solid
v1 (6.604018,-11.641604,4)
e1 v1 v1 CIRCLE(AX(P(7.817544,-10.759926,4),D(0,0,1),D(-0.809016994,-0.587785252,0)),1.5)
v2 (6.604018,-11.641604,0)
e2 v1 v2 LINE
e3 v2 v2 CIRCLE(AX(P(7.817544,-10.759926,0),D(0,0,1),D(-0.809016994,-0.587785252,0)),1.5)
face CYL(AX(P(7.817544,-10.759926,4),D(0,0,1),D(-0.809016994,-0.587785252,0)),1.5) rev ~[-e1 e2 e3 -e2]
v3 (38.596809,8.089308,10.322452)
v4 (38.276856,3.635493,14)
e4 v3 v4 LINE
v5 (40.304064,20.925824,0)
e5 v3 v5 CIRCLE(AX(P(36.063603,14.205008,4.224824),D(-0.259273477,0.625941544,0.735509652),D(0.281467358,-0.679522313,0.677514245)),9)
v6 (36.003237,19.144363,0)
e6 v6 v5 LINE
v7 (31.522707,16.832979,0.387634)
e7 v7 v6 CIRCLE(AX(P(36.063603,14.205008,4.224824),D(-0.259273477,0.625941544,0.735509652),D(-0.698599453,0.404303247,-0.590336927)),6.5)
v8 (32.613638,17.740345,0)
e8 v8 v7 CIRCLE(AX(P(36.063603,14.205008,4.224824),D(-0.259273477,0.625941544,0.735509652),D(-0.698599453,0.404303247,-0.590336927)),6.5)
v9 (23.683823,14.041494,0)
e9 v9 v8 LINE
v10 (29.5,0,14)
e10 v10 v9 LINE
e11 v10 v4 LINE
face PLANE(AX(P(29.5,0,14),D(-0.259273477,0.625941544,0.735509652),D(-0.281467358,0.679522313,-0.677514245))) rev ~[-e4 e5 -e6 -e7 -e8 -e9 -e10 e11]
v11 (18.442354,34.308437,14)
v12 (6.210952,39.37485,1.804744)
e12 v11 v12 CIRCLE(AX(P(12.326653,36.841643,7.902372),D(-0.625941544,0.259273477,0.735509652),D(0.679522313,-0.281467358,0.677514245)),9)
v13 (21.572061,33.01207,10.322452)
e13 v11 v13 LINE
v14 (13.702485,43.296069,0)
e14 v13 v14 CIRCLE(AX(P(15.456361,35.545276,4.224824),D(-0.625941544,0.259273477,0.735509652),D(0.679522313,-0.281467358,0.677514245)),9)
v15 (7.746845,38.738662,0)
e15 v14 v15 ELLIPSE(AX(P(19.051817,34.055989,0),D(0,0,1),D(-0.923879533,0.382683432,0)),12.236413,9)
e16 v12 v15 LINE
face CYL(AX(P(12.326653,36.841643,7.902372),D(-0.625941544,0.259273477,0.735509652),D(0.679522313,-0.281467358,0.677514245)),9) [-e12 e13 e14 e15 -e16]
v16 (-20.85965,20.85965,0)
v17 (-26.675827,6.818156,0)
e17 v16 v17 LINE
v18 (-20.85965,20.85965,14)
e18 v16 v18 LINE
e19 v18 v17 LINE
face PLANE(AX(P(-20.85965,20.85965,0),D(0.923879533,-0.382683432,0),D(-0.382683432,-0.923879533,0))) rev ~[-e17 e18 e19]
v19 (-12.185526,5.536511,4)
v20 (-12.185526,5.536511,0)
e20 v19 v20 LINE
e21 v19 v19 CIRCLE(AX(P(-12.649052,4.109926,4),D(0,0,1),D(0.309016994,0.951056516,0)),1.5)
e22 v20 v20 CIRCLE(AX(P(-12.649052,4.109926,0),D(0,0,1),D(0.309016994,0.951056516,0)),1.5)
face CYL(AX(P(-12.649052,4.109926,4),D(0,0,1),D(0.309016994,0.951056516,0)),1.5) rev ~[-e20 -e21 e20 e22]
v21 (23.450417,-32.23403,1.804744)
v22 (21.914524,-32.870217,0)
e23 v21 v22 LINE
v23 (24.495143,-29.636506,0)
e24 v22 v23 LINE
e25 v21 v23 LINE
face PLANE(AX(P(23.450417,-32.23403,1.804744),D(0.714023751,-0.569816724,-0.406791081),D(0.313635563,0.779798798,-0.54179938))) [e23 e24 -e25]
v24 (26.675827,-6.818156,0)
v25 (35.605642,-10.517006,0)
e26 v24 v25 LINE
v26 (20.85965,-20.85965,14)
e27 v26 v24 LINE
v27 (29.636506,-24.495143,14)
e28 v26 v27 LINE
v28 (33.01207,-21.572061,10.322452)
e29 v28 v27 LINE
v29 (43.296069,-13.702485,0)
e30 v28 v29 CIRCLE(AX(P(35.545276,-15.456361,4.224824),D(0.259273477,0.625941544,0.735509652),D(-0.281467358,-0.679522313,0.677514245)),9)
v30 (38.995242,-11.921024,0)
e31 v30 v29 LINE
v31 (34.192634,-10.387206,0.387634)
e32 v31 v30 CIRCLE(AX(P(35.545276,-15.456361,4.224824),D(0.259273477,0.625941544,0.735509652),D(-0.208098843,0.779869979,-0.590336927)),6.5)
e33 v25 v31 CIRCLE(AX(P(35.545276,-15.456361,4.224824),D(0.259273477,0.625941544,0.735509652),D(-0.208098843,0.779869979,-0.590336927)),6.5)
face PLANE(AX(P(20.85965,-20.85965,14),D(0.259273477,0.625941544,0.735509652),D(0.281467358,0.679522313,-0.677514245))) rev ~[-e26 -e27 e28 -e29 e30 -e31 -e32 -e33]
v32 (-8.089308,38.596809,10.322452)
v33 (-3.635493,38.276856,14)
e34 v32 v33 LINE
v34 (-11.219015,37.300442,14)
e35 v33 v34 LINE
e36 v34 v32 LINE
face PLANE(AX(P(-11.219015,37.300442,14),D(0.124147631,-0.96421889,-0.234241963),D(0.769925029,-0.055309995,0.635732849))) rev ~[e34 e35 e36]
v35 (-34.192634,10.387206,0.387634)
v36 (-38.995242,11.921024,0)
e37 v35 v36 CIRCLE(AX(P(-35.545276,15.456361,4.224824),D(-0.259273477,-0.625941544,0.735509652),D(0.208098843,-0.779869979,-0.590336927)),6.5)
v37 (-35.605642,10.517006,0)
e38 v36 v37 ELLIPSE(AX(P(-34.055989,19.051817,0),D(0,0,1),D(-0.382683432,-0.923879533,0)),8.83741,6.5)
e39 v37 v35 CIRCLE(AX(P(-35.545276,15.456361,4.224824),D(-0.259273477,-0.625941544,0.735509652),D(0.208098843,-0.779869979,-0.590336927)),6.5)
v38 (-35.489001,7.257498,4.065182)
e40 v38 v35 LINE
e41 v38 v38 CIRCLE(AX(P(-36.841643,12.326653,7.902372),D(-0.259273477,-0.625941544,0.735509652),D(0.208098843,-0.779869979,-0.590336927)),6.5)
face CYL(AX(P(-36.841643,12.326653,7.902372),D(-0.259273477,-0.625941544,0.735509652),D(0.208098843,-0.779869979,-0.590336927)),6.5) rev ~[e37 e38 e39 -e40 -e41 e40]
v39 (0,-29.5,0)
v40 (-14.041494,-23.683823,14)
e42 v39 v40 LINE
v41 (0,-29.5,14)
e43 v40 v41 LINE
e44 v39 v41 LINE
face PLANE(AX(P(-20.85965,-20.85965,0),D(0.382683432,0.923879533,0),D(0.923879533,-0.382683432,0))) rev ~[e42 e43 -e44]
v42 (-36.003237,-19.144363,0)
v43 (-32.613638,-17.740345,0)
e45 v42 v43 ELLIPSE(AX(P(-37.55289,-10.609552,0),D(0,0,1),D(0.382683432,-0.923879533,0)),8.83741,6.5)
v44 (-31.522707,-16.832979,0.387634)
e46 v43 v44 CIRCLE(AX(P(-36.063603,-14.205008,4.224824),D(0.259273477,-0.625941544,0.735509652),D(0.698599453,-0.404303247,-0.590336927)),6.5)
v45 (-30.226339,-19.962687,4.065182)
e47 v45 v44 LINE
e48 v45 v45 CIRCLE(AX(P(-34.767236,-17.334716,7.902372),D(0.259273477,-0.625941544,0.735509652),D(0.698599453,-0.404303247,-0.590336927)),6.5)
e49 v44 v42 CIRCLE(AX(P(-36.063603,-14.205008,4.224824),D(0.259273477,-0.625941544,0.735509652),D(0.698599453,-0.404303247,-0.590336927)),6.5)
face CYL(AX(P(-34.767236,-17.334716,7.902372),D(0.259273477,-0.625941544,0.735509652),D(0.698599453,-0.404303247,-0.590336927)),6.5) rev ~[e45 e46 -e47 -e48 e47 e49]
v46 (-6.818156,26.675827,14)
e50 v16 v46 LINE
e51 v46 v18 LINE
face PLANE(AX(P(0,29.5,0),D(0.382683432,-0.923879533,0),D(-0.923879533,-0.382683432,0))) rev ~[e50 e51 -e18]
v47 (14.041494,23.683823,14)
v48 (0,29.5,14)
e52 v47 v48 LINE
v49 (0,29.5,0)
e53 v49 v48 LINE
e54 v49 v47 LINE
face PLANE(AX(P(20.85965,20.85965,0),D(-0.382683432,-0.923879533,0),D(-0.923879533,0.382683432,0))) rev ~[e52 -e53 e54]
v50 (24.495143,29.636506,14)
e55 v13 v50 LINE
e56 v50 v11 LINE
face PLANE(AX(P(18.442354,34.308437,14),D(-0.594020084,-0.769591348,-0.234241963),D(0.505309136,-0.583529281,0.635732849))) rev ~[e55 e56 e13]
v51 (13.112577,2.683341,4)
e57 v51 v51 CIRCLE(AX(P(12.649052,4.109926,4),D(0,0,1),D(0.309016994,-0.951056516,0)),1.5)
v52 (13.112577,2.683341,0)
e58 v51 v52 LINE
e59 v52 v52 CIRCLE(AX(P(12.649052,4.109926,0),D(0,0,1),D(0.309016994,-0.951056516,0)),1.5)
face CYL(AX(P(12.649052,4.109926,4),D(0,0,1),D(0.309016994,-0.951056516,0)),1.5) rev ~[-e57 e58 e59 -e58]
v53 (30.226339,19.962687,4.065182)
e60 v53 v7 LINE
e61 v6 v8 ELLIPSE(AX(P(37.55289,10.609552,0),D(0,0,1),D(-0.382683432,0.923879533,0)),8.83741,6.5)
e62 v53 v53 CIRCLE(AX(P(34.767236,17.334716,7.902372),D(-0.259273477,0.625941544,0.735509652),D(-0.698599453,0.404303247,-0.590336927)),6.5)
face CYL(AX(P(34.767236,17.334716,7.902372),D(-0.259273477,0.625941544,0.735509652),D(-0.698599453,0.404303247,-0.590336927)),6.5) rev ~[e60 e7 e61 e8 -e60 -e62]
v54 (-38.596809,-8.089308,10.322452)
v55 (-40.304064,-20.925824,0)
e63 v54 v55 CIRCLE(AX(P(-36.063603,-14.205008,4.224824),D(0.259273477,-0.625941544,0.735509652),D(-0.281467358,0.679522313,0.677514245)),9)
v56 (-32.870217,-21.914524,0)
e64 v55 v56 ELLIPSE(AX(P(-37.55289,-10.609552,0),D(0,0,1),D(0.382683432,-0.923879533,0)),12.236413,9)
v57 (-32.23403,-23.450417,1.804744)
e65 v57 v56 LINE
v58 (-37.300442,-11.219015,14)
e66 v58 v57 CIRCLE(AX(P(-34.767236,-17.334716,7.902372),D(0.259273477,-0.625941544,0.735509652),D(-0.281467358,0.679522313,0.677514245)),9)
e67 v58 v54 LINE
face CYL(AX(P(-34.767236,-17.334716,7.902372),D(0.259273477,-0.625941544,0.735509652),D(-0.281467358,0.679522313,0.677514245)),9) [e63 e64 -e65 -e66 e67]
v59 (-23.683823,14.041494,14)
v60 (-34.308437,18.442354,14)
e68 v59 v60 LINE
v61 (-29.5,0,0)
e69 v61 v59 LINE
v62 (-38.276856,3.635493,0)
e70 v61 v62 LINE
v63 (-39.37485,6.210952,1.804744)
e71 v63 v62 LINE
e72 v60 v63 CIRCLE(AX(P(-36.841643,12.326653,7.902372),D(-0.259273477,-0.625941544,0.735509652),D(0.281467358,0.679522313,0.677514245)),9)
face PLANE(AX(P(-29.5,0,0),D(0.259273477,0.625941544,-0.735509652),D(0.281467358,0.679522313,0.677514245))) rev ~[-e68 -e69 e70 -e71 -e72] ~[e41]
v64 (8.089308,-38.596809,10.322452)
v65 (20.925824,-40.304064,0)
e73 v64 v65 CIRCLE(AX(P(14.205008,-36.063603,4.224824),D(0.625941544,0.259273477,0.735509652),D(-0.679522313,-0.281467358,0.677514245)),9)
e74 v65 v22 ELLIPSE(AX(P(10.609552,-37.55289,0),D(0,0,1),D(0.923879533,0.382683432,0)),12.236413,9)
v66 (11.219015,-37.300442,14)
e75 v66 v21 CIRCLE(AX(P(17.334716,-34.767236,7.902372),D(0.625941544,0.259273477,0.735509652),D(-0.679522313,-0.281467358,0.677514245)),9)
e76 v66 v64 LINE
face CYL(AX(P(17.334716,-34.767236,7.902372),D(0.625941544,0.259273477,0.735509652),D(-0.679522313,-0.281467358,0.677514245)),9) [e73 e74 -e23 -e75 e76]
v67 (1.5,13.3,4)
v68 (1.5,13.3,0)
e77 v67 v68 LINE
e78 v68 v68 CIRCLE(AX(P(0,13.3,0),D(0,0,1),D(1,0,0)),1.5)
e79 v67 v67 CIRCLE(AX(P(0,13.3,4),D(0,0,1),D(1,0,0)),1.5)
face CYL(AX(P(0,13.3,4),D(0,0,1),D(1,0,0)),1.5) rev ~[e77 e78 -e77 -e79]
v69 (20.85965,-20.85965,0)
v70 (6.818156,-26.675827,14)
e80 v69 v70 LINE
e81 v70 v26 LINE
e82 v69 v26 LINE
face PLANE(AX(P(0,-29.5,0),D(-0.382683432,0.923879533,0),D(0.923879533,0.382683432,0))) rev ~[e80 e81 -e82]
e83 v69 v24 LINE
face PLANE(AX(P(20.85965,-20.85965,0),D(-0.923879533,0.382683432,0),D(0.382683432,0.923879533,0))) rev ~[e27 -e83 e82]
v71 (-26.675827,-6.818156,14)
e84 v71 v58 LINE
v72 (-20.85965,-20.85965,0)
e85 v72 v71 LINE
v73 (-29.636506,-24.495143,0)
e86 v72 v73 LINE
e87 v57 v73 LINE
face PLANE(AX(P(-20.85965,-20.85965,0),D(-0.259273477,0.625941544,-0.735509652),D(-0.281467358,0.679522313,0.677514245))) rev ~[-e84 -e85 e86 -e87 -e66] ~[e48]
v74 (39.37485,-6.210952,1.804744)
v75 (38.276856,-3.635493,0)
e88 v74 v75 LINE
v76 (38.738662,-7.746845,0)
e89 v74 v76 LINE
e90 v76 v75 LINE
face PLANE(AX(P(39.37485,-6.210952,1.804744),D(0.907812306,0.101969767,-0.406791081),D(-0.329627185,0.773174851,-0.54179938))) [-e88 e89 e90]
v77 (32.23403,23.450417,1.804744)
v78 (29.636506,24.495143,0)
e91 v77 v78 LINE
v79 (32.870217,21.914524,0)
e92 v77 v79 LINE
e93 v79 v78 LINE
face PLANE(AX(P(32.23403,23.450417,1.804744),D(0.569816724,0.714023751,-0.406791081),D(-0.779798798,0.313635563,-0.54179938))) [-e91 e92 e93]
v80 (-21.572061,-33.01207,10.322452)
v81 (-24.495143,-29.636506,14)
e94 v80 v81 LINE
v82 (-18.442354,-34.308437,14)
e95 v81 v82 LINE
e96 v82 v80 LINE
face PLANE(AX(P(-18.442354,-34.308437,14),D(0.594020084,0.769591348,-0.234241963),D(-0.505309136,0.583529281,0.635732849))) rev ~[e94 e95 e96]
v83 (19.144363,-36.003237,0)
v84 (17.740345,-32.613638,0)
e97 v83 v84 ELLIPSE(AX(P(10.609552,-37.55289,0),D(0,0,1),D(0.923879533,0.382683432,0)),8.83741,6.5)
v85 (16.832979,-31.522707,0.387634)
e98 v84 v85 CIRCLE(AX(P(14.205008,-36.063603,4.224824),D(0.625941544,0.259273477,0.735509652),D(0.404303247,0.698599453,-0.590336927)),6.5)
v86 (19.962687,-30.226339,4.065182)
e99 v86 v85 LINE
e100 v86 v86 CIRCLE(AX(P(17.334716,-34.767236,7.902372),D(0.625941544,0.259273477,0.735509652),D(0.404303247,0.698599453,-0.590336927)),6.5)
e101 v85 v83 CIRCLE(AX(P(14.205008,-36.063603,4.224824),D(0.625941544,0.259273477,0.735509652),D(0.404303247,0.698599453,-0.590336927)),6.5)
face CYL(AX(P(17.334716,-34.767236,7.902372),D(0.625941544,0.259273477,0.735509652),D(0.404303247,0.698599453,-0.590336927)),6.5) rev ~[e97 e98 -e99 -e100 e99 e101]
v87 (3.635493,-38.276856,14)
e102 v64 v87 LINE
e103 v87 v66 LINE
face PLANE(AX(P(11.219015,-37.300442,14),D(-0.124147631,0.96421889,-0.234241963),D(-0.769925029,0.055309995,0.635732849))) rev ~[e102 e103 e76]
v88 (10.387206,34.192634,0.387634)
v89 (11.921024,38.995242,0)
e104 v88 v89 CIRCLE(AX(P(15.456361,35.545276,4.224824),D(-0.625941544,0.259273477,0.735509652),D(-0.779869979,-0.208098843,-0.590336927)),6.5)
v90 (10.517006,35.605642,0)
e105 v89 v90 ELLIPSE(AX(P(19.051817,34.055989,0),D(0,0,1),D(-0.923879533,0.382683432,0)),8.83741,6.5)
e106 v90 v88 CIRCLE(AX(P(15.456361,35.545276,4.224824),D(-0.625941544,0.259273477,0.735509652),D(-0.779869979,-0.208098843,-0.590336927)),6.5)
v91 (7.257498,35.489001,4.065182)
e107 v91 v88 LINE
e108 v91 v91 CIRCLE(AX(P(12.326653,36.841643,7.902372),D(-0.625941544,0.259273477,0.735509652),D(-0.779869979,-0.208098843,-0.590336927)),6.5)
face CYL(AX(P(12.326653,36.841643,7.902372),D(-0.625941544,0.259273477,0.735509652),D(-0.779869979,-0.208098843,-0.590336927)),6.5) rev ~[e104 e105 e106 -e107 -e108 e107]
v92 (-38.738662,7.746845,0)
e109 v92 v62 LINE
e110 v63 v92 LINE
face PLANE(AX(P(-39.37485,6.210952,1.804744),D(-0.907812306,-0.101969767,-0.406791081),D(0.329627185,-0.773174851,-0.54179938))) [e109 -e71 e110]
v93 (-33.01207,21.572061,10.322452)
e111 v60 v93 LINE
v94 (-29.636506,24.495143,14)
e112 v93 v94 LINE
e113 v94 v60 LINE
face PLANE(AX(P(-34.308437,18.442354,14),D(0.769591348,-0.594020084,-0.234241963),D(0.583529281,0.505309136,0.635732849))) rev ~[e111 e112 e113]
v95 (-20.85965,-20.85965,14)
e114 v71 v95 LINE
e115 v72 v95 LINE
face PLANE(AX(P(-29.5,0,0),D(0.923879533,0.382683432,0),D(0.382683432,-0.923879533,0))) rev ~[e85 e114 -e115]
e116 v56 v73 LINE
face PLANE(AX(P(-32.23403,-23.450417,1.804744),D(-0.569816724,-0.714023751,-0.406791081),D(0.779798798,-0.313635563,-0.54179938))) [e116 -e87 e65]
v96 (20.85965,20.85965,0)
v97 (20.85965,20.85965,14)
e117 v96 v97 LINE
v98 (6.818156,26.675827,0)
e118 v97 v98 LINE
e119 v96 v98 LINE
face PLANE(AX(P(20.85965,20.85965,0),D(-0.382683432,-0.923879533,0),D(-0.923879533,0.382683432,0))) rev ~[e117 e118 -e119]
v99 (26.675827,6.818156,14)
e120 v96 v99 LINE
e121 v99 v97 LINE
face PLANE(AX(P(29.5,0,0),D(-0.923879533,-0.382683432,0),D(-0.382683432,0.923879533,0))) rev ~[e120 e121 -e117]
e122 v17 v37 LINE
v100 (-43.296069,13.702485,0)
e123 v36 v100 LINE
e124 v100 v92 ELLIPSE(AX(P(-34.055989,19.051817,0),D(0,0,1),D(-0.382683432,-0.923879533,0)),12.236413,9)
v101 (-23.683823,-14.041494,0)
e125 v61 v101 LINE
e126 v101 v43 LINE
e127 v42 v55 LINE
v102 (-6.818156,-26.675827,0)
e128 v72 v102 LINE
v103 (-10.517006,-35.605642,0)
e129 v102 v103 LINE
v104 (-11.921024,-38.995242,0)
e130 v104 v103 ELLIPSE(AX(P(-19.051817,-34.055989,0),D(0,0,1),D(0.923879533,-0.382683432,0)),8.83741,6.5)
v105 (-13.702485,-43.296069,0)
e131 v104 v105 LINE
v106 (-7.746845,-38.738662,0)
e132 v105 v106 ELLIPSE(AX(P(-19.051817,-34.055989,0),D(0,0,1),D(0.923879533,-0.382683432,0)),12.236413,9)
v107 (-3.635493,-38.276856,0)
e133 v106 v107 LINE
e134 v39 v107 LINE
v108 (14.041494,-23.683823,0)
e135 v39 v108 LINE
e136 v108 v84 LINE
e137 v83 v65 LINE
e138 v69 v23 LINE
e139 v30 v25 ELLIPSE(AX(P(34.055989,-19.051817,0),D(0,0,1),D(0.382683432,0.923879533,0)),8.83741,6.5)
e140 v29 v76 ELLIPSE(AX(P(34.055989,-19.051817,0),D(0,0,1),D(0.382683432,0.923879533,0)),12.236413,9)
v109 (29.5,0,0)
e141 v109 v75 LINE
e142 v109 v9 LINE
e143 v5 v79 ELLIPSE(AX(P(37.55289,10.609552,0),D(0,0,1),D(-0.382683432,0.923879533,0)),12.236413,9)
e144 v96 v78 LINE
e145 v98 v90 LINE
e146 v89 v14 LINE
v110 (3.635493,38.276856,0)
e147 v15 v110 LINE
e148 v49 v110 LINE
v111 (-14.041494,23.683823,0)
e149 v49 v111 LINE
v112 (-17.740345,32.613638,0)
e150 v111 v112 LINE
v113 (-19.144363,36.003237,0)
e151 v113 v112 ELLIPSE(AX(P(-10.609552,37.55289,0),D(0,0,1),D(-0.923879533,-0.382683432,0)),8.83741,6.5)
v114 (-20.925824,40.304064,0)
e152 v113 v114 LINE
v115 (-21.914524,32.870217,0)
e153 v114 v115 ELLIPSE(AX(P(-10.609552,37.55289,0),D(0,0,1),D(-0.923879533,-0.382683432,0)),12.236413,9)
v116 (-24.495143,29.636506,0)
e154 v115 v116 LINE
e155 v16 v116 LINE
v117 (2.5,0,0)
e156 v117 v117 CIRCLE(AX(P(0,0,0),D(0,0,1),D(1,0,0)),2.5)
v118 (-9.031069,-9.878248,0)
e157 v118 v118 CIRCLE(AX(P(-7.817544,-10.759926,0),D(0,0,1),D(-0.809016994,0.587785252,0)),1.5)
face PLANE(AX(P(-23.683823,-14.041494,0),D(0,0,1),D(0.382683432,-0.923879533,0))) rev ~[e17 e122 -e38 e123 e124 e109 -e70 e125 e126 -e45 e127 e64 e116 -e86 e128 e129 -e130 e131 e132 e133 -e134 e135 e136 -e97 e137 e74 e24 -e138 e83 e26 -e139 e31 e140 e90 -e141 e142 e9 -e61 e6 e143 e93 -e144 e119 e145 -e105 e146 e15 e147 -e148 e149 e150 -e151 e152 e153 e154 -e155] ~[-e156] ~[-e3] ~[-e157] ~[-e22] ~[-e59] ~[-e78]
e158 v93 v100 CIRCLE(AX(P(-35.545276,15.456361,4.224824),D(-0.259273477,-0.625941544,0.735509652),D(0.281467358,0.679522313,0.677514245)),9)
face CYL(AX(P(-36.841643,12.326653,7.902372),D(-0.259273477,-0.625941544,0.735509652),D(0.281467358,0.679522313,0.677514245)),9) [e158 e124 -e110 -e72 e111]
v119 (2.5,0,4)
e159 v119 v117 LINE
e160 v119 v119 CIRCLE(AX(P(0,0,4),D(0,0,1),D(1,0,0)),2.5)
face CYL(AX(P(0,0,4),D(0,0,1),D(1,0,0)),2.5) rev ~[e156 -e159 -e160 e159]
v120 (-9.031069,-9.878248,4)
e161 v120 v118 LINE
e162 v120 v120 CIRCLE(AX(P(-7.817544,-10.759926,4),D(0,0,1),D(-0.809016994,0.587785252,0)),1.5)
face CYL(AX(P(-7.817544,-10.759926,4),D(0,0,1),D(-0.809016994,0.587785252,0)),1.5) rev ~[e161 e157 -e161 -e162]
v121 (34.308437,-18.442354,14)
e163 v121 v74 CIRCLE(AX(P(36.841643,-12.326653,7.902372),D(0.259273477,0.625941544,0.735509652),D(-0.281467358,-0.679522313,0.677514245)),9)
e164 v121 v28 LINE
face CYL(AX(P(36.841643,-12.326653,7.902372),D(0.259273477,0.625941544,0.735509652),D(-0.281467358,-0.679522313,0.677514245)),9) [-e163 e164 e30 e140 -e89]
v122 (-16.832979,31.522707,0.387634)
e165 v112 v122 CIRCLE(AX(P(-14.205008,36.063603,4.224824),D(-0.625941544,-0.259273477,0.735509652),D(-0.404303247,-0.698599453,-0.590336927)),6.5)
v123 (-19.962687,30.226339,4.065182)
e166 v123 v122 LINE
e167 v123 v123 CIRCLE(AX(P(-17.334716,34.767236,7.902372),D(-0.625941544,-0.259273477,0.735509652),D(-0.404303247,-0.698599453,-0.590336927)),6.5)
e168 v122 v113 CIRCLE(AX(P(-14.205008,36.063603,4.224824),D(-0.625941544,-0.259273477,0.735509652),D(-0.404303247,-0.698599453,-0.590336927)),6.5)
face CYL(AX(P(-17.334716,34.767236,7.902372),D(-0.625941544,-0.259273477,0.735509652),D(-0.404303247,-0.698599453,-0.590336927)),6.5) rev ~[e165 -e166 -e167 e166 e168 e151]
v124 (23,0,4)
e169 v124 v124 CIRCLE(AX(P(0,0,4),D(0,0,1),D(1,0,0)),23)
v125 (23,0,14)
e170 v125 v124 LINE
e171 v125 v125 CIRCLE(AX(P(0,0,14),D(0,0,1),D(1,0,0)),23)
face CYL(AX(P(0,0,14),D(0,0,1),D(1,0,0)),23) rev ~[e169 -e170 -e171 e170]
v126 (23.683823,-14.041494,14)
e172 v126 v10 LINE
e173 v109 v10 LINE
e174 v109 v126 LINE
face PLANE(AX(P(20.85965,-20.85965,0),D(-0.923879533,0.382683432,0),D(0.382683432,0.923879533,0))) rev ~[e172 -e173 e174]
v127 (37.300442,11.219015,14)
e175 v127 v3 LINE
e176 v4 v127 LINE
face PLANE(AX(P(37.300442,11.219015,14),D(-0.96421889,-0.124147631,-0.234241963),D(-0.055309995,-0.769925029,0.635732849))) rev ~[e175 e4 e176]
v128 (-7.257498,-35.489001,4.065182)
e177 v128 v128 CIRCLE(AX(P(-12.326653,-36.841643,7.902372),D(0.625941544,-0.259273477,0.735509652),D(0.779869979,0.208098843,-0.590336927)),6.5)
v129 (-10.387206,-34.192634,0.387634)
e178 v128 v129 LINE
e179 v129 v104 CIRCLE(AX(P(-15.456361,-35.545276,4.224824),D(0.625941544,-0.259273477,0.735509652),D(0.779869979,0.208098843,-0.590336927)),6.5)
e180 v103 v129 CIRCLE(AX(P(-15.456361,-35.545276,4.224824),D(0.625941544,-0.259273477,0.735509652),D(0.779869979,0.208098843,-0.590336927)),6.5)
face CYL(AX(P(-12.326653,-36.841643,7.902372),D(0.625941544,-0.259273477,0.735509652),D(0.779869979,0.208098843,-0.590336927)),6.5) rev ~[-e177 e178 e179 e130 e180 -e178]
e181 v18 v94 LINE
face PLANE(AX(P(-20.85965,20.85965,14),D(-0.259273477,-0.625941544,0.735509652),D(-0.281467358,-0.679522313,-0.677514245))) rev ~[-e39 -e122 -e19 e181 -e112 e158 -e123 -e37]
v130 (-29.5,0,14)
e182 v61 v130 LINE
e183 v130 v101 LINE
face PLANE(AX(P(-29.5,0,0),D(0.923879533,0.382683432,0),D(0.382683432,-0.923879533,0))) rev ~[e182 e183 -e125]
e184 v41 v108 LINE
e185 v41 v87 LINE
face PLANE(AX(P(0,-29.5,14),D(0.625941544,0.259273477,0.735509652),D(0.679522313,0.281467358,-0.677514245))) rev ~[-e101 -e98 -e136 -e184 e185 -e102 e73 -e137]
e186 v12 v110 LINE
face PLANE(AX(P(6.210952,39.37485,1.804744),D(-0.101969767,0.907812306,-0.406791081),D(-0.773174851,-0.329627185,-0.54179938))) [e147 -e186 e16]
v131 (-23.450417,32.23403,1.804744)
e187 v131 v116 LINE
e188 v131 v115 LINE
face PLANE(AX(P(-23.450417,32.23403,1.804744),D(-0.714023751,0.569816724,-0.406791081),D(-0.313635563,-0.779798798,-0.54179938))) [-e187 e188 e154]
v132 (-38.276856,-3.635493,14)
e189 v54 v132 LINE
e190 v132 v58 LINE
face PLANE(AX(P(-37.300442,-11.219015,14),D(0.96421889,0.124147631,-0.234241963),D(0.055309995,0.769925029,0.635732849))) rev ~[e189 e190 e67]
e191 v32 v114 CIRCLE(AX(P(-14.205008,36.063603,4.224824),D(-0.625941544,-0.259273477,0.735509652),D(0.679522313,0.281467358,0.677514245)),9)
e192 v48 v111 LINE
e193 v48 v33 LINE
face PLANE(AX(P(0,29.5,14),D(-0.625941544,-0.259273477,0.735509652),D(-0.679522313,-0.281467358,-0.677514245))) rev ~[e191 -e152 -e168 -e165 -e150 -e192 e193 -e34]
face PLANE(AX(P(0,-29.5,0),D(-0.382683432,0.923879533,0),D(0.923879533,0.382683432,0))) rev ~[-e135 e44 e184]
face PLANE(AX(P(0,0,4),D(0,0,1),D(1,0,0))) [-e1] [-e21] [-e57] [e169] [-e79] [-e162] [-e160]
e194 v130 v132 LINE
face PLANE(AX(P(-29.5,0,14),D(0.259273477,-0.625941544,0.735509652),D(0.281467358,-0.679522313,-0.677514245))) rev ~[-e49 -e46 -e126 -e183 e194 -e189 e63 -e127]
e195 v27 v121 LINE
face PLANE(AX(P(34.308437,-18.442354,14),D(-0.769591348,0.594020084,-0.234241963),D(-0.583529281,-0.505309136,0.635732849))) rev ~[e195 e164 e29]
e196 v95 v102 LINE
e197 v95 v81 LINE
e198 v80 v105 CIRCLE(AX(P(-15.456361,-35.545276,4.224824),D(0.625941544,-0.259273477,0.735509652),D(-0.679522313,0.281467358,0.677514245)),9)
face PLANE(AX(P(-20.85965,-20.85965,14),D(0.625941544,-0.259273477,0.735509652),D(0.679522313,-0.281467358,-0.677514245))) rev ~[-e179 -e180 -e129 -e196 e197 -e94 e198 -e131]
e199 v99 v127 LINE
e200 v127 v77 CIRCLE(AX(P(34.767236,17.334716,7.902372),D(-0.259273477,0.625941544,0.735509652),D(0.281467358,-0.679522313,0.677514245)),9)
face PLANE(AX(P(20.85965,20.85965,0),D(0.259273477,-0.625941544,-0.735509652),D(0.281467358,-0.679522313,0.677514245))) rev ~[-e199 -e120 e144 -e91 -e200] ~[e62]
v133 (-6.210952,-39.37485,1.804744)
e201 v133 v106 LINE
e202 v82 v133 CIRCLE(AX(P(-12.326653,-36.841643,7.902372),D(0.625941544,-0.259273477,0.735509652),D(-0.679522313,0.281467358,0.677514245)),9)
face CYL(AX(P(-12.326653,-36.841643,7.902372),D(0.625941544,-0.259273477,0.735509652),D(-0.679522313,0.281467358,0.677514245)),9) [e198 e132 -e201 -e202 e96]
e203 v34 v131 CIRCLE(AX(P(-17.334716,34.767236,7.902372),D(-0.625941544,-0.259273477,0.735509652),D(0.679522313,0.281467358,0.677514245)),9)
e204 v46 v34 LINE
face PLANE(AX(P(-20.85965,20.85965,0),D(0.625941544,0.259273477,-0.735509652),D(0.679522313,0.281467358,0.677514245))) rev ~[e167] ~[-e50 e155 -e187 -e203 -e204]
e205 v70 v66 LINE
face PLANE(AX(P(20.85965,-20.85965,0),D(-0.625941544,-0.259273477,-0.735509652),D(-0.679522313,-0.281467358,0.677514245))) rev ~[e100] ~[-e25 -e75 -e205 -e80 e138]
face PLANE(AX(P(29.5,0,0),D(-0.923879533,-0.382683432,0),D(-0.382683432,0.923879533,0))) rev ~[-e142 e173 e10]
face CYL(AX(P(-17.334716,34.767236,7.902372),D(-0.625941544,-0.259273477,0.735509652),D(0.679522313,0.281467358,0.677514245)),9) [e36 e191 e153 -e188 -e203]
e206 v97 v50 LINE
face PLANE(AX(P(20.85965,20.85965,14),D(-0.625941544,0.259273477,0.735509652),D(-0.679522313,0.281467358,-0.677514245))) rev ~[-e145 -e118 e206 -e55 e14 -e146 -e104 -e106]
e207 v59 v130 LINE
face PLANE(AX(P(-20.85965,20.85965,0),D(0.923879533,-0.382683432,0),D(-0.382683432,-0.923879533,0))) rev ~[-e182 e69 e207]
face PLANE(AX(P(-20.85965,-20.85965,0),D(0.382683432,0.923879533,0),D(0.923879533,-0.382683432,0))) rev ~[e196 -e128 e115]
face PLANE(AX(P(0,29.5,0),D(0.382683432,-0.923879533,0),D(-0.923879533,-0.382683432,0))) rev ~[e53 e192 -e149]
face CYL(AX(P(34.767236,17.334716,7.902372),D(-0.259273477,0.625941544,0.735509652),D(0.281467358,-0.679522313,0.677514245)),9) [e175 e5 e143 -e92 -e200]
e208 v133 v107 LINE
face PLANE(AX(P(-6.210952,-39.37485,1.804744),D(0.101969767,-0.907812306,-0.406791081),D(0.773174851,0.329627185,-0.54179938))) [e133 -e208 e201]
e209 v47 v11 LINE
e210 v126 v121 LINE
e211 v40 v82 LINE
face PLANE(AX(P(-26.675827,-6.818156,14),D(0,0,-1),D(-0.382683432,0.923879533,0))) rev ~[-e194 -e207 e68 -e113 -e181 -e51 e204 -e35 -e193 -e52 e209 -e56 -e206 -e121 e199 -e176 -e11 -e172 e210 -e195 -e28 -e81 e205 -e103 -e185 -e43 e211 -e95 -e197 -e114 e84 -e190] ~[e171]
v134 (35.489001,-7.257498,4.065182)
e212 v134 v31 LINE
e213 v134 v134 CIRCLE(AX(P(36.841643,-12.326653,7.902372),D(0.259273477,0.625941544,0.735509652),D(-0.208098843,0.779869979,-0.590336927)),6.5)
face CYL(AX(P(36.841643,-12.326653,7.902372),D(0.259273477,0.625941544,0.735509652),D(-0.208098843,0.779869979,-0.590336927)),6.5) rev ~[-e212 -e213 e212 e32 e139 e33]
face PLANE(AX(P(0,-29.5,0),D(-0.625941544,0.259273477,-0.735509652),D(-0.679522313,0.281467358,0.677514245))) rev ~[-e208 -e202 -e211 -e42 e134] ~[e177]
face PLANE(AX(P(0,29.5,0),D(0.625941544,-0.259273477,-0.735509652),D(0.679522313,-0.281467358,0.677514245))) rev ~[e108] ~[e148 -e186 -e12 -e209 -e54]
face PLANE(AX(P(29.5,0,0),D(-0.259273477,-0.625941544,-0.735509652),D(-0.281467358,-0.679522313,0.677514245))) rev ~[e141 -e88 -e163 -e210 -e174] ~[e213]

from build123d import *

# Parameters (mm, degrees)
PAD_DEPTH             = 14
SKETCH001_R           = 23
POCKET_DEPTH          = 10
SKETCH002_R           = 2.5
SKETCH002_R_2         = 1.5
POCKET001_DEPTH       = 173.2109287867
POLARPATTERN_COUNT    = 5
PAD001_DEPTH          = 21
POLARPATTERN001_COUNT = 8
SKETCH004_R           = 6.5
POCKET002_DEPTH       = 5
POLARPATTERN002_COUNT = 8


with BuildPart() as part:
    # Sketch → Pad (new body)
    with BuildSketch(Plane.XY):
        Polygon((29.5, 0), (20.859650045, 20.859650045), (0, 29.5), (-20.859650045, 20.859650045), (-29.5, 0), (-20.859650045, -20.859650045), (0, -29.5), (20.859650045, -20.859650045), align=None)
    extrude(amount=PAD_DEPTH)

    # Sketch001 (on Face10 of Pad) → Pocket (cut)
    with BuildSketch(Plane.XY.offset(14)):
        Circle(SKETCH001_R)
    extrude(amount=-POCKET_DEPTH, mode=Mode.SUBTRACT)

    # Sketch002 (on Face12 of Pocket) → Pocket001 (cut, through all)
    with BuildSketch(Plane.XY.offset(4)):
        Circle(SKETCH002_R)
        with Locations((0, 13.3)):
            Circle(SKETCH002_R_2)
    pocket001 = extrude(amount=-POCKET001_DEPTH, mode=Mode.SUBTRACT)

    # PolarPattern: Pocket001 ×5 about axis
    polarpattern_axis = Axis((0, 0, 4), (0, 0, 1))
    for i in range(1, POLARPATTERN_COUNT):
        add(pocket001.rotate(polarpattern_axis, i * 360 / POLARPATTERN_COUNT), mode=Mode.SUBTRACT)

    # Sketch003 (on Face8 of PolarPattern) → Pad001 (join)
    with BuildSketch(Plane(origin=(-10.4298250225, -25.1798250225, 0), x_dir=(0.9238795325, -0.3826834324, 0), z_dir=(-0.3826834324, -0.9238795325, 0))):
        Polygon((-11.2891612548, 14), (3.9092426218, 0), (11.2891612548, 0), (-3.9092426218, 14), align=None)
    pad001 = extrude(amount=PAD001_DEPTH)

    # PolarPattern001: Pad001 ×8 about axis
    polarpattern001_axis = Axis((0, 0, 0), (0, 0, 1))
    for i in range(1, POLARPATTERN001_COUNT):
        add(pad001.rotate(polarpattern001_axis, i * 360 / POLARPATTERN001_COUNT))

    # Sketch004 (on Face52 of PolarPattern001) → Pocket002 (cut)
    with BuildSketch(Plane(origin=(4.7875561885, -1.9830707039, 5.6255952654), x_dir=(0.7798699787, 0.208098843, -0.5903369274), z_dir=(0.6259415438, -0.2592734767, 0.7355096519))):
        with Locations((-21.9449518208, -32.1188270446)):
            Circle(SKETCH004_R)
        with BuildLine():
            Line((-14.1030025385, -36.5351412832), (-10.8005808993, -36.0996031065))
            Line((-10.8005808993, -36.0996031065), (-16.4436490931, -46.1198716338))
            Line((-16.4436490931, -46.1198716338), (-39.1781340839, -33.3165970703))
            Line((-33.5350658901, -23.296328543), (-39.1781340839, -33.3165970703))
            Line((-29.786901103, -27.7025128059), (-33.5350658901, -23.296328543))
            ThreePointArc((-29.786901103, -27.7025128059), (-26.3612660594, -39.9607763268), (-14.1030025385, -36.5351412832))
        make_face()
    pocket002 = extrude(amount=-POCKET002_DEPTH, mode=Mode.SUBTRACT)

    # PolarPattern002: Pocket002 ×8 about axis
    polarpattern002_axis = Axis((0, 0, 0), (0, 0, 1))
    for i in range(1, POLARPATTERN002_COUNT):
        add(pocket002.rotate(polarpattern002_axis, i * 360 / POLARPATTERN002_COUNT), mode=Mode.SUBTRACT)


solid = part.part
